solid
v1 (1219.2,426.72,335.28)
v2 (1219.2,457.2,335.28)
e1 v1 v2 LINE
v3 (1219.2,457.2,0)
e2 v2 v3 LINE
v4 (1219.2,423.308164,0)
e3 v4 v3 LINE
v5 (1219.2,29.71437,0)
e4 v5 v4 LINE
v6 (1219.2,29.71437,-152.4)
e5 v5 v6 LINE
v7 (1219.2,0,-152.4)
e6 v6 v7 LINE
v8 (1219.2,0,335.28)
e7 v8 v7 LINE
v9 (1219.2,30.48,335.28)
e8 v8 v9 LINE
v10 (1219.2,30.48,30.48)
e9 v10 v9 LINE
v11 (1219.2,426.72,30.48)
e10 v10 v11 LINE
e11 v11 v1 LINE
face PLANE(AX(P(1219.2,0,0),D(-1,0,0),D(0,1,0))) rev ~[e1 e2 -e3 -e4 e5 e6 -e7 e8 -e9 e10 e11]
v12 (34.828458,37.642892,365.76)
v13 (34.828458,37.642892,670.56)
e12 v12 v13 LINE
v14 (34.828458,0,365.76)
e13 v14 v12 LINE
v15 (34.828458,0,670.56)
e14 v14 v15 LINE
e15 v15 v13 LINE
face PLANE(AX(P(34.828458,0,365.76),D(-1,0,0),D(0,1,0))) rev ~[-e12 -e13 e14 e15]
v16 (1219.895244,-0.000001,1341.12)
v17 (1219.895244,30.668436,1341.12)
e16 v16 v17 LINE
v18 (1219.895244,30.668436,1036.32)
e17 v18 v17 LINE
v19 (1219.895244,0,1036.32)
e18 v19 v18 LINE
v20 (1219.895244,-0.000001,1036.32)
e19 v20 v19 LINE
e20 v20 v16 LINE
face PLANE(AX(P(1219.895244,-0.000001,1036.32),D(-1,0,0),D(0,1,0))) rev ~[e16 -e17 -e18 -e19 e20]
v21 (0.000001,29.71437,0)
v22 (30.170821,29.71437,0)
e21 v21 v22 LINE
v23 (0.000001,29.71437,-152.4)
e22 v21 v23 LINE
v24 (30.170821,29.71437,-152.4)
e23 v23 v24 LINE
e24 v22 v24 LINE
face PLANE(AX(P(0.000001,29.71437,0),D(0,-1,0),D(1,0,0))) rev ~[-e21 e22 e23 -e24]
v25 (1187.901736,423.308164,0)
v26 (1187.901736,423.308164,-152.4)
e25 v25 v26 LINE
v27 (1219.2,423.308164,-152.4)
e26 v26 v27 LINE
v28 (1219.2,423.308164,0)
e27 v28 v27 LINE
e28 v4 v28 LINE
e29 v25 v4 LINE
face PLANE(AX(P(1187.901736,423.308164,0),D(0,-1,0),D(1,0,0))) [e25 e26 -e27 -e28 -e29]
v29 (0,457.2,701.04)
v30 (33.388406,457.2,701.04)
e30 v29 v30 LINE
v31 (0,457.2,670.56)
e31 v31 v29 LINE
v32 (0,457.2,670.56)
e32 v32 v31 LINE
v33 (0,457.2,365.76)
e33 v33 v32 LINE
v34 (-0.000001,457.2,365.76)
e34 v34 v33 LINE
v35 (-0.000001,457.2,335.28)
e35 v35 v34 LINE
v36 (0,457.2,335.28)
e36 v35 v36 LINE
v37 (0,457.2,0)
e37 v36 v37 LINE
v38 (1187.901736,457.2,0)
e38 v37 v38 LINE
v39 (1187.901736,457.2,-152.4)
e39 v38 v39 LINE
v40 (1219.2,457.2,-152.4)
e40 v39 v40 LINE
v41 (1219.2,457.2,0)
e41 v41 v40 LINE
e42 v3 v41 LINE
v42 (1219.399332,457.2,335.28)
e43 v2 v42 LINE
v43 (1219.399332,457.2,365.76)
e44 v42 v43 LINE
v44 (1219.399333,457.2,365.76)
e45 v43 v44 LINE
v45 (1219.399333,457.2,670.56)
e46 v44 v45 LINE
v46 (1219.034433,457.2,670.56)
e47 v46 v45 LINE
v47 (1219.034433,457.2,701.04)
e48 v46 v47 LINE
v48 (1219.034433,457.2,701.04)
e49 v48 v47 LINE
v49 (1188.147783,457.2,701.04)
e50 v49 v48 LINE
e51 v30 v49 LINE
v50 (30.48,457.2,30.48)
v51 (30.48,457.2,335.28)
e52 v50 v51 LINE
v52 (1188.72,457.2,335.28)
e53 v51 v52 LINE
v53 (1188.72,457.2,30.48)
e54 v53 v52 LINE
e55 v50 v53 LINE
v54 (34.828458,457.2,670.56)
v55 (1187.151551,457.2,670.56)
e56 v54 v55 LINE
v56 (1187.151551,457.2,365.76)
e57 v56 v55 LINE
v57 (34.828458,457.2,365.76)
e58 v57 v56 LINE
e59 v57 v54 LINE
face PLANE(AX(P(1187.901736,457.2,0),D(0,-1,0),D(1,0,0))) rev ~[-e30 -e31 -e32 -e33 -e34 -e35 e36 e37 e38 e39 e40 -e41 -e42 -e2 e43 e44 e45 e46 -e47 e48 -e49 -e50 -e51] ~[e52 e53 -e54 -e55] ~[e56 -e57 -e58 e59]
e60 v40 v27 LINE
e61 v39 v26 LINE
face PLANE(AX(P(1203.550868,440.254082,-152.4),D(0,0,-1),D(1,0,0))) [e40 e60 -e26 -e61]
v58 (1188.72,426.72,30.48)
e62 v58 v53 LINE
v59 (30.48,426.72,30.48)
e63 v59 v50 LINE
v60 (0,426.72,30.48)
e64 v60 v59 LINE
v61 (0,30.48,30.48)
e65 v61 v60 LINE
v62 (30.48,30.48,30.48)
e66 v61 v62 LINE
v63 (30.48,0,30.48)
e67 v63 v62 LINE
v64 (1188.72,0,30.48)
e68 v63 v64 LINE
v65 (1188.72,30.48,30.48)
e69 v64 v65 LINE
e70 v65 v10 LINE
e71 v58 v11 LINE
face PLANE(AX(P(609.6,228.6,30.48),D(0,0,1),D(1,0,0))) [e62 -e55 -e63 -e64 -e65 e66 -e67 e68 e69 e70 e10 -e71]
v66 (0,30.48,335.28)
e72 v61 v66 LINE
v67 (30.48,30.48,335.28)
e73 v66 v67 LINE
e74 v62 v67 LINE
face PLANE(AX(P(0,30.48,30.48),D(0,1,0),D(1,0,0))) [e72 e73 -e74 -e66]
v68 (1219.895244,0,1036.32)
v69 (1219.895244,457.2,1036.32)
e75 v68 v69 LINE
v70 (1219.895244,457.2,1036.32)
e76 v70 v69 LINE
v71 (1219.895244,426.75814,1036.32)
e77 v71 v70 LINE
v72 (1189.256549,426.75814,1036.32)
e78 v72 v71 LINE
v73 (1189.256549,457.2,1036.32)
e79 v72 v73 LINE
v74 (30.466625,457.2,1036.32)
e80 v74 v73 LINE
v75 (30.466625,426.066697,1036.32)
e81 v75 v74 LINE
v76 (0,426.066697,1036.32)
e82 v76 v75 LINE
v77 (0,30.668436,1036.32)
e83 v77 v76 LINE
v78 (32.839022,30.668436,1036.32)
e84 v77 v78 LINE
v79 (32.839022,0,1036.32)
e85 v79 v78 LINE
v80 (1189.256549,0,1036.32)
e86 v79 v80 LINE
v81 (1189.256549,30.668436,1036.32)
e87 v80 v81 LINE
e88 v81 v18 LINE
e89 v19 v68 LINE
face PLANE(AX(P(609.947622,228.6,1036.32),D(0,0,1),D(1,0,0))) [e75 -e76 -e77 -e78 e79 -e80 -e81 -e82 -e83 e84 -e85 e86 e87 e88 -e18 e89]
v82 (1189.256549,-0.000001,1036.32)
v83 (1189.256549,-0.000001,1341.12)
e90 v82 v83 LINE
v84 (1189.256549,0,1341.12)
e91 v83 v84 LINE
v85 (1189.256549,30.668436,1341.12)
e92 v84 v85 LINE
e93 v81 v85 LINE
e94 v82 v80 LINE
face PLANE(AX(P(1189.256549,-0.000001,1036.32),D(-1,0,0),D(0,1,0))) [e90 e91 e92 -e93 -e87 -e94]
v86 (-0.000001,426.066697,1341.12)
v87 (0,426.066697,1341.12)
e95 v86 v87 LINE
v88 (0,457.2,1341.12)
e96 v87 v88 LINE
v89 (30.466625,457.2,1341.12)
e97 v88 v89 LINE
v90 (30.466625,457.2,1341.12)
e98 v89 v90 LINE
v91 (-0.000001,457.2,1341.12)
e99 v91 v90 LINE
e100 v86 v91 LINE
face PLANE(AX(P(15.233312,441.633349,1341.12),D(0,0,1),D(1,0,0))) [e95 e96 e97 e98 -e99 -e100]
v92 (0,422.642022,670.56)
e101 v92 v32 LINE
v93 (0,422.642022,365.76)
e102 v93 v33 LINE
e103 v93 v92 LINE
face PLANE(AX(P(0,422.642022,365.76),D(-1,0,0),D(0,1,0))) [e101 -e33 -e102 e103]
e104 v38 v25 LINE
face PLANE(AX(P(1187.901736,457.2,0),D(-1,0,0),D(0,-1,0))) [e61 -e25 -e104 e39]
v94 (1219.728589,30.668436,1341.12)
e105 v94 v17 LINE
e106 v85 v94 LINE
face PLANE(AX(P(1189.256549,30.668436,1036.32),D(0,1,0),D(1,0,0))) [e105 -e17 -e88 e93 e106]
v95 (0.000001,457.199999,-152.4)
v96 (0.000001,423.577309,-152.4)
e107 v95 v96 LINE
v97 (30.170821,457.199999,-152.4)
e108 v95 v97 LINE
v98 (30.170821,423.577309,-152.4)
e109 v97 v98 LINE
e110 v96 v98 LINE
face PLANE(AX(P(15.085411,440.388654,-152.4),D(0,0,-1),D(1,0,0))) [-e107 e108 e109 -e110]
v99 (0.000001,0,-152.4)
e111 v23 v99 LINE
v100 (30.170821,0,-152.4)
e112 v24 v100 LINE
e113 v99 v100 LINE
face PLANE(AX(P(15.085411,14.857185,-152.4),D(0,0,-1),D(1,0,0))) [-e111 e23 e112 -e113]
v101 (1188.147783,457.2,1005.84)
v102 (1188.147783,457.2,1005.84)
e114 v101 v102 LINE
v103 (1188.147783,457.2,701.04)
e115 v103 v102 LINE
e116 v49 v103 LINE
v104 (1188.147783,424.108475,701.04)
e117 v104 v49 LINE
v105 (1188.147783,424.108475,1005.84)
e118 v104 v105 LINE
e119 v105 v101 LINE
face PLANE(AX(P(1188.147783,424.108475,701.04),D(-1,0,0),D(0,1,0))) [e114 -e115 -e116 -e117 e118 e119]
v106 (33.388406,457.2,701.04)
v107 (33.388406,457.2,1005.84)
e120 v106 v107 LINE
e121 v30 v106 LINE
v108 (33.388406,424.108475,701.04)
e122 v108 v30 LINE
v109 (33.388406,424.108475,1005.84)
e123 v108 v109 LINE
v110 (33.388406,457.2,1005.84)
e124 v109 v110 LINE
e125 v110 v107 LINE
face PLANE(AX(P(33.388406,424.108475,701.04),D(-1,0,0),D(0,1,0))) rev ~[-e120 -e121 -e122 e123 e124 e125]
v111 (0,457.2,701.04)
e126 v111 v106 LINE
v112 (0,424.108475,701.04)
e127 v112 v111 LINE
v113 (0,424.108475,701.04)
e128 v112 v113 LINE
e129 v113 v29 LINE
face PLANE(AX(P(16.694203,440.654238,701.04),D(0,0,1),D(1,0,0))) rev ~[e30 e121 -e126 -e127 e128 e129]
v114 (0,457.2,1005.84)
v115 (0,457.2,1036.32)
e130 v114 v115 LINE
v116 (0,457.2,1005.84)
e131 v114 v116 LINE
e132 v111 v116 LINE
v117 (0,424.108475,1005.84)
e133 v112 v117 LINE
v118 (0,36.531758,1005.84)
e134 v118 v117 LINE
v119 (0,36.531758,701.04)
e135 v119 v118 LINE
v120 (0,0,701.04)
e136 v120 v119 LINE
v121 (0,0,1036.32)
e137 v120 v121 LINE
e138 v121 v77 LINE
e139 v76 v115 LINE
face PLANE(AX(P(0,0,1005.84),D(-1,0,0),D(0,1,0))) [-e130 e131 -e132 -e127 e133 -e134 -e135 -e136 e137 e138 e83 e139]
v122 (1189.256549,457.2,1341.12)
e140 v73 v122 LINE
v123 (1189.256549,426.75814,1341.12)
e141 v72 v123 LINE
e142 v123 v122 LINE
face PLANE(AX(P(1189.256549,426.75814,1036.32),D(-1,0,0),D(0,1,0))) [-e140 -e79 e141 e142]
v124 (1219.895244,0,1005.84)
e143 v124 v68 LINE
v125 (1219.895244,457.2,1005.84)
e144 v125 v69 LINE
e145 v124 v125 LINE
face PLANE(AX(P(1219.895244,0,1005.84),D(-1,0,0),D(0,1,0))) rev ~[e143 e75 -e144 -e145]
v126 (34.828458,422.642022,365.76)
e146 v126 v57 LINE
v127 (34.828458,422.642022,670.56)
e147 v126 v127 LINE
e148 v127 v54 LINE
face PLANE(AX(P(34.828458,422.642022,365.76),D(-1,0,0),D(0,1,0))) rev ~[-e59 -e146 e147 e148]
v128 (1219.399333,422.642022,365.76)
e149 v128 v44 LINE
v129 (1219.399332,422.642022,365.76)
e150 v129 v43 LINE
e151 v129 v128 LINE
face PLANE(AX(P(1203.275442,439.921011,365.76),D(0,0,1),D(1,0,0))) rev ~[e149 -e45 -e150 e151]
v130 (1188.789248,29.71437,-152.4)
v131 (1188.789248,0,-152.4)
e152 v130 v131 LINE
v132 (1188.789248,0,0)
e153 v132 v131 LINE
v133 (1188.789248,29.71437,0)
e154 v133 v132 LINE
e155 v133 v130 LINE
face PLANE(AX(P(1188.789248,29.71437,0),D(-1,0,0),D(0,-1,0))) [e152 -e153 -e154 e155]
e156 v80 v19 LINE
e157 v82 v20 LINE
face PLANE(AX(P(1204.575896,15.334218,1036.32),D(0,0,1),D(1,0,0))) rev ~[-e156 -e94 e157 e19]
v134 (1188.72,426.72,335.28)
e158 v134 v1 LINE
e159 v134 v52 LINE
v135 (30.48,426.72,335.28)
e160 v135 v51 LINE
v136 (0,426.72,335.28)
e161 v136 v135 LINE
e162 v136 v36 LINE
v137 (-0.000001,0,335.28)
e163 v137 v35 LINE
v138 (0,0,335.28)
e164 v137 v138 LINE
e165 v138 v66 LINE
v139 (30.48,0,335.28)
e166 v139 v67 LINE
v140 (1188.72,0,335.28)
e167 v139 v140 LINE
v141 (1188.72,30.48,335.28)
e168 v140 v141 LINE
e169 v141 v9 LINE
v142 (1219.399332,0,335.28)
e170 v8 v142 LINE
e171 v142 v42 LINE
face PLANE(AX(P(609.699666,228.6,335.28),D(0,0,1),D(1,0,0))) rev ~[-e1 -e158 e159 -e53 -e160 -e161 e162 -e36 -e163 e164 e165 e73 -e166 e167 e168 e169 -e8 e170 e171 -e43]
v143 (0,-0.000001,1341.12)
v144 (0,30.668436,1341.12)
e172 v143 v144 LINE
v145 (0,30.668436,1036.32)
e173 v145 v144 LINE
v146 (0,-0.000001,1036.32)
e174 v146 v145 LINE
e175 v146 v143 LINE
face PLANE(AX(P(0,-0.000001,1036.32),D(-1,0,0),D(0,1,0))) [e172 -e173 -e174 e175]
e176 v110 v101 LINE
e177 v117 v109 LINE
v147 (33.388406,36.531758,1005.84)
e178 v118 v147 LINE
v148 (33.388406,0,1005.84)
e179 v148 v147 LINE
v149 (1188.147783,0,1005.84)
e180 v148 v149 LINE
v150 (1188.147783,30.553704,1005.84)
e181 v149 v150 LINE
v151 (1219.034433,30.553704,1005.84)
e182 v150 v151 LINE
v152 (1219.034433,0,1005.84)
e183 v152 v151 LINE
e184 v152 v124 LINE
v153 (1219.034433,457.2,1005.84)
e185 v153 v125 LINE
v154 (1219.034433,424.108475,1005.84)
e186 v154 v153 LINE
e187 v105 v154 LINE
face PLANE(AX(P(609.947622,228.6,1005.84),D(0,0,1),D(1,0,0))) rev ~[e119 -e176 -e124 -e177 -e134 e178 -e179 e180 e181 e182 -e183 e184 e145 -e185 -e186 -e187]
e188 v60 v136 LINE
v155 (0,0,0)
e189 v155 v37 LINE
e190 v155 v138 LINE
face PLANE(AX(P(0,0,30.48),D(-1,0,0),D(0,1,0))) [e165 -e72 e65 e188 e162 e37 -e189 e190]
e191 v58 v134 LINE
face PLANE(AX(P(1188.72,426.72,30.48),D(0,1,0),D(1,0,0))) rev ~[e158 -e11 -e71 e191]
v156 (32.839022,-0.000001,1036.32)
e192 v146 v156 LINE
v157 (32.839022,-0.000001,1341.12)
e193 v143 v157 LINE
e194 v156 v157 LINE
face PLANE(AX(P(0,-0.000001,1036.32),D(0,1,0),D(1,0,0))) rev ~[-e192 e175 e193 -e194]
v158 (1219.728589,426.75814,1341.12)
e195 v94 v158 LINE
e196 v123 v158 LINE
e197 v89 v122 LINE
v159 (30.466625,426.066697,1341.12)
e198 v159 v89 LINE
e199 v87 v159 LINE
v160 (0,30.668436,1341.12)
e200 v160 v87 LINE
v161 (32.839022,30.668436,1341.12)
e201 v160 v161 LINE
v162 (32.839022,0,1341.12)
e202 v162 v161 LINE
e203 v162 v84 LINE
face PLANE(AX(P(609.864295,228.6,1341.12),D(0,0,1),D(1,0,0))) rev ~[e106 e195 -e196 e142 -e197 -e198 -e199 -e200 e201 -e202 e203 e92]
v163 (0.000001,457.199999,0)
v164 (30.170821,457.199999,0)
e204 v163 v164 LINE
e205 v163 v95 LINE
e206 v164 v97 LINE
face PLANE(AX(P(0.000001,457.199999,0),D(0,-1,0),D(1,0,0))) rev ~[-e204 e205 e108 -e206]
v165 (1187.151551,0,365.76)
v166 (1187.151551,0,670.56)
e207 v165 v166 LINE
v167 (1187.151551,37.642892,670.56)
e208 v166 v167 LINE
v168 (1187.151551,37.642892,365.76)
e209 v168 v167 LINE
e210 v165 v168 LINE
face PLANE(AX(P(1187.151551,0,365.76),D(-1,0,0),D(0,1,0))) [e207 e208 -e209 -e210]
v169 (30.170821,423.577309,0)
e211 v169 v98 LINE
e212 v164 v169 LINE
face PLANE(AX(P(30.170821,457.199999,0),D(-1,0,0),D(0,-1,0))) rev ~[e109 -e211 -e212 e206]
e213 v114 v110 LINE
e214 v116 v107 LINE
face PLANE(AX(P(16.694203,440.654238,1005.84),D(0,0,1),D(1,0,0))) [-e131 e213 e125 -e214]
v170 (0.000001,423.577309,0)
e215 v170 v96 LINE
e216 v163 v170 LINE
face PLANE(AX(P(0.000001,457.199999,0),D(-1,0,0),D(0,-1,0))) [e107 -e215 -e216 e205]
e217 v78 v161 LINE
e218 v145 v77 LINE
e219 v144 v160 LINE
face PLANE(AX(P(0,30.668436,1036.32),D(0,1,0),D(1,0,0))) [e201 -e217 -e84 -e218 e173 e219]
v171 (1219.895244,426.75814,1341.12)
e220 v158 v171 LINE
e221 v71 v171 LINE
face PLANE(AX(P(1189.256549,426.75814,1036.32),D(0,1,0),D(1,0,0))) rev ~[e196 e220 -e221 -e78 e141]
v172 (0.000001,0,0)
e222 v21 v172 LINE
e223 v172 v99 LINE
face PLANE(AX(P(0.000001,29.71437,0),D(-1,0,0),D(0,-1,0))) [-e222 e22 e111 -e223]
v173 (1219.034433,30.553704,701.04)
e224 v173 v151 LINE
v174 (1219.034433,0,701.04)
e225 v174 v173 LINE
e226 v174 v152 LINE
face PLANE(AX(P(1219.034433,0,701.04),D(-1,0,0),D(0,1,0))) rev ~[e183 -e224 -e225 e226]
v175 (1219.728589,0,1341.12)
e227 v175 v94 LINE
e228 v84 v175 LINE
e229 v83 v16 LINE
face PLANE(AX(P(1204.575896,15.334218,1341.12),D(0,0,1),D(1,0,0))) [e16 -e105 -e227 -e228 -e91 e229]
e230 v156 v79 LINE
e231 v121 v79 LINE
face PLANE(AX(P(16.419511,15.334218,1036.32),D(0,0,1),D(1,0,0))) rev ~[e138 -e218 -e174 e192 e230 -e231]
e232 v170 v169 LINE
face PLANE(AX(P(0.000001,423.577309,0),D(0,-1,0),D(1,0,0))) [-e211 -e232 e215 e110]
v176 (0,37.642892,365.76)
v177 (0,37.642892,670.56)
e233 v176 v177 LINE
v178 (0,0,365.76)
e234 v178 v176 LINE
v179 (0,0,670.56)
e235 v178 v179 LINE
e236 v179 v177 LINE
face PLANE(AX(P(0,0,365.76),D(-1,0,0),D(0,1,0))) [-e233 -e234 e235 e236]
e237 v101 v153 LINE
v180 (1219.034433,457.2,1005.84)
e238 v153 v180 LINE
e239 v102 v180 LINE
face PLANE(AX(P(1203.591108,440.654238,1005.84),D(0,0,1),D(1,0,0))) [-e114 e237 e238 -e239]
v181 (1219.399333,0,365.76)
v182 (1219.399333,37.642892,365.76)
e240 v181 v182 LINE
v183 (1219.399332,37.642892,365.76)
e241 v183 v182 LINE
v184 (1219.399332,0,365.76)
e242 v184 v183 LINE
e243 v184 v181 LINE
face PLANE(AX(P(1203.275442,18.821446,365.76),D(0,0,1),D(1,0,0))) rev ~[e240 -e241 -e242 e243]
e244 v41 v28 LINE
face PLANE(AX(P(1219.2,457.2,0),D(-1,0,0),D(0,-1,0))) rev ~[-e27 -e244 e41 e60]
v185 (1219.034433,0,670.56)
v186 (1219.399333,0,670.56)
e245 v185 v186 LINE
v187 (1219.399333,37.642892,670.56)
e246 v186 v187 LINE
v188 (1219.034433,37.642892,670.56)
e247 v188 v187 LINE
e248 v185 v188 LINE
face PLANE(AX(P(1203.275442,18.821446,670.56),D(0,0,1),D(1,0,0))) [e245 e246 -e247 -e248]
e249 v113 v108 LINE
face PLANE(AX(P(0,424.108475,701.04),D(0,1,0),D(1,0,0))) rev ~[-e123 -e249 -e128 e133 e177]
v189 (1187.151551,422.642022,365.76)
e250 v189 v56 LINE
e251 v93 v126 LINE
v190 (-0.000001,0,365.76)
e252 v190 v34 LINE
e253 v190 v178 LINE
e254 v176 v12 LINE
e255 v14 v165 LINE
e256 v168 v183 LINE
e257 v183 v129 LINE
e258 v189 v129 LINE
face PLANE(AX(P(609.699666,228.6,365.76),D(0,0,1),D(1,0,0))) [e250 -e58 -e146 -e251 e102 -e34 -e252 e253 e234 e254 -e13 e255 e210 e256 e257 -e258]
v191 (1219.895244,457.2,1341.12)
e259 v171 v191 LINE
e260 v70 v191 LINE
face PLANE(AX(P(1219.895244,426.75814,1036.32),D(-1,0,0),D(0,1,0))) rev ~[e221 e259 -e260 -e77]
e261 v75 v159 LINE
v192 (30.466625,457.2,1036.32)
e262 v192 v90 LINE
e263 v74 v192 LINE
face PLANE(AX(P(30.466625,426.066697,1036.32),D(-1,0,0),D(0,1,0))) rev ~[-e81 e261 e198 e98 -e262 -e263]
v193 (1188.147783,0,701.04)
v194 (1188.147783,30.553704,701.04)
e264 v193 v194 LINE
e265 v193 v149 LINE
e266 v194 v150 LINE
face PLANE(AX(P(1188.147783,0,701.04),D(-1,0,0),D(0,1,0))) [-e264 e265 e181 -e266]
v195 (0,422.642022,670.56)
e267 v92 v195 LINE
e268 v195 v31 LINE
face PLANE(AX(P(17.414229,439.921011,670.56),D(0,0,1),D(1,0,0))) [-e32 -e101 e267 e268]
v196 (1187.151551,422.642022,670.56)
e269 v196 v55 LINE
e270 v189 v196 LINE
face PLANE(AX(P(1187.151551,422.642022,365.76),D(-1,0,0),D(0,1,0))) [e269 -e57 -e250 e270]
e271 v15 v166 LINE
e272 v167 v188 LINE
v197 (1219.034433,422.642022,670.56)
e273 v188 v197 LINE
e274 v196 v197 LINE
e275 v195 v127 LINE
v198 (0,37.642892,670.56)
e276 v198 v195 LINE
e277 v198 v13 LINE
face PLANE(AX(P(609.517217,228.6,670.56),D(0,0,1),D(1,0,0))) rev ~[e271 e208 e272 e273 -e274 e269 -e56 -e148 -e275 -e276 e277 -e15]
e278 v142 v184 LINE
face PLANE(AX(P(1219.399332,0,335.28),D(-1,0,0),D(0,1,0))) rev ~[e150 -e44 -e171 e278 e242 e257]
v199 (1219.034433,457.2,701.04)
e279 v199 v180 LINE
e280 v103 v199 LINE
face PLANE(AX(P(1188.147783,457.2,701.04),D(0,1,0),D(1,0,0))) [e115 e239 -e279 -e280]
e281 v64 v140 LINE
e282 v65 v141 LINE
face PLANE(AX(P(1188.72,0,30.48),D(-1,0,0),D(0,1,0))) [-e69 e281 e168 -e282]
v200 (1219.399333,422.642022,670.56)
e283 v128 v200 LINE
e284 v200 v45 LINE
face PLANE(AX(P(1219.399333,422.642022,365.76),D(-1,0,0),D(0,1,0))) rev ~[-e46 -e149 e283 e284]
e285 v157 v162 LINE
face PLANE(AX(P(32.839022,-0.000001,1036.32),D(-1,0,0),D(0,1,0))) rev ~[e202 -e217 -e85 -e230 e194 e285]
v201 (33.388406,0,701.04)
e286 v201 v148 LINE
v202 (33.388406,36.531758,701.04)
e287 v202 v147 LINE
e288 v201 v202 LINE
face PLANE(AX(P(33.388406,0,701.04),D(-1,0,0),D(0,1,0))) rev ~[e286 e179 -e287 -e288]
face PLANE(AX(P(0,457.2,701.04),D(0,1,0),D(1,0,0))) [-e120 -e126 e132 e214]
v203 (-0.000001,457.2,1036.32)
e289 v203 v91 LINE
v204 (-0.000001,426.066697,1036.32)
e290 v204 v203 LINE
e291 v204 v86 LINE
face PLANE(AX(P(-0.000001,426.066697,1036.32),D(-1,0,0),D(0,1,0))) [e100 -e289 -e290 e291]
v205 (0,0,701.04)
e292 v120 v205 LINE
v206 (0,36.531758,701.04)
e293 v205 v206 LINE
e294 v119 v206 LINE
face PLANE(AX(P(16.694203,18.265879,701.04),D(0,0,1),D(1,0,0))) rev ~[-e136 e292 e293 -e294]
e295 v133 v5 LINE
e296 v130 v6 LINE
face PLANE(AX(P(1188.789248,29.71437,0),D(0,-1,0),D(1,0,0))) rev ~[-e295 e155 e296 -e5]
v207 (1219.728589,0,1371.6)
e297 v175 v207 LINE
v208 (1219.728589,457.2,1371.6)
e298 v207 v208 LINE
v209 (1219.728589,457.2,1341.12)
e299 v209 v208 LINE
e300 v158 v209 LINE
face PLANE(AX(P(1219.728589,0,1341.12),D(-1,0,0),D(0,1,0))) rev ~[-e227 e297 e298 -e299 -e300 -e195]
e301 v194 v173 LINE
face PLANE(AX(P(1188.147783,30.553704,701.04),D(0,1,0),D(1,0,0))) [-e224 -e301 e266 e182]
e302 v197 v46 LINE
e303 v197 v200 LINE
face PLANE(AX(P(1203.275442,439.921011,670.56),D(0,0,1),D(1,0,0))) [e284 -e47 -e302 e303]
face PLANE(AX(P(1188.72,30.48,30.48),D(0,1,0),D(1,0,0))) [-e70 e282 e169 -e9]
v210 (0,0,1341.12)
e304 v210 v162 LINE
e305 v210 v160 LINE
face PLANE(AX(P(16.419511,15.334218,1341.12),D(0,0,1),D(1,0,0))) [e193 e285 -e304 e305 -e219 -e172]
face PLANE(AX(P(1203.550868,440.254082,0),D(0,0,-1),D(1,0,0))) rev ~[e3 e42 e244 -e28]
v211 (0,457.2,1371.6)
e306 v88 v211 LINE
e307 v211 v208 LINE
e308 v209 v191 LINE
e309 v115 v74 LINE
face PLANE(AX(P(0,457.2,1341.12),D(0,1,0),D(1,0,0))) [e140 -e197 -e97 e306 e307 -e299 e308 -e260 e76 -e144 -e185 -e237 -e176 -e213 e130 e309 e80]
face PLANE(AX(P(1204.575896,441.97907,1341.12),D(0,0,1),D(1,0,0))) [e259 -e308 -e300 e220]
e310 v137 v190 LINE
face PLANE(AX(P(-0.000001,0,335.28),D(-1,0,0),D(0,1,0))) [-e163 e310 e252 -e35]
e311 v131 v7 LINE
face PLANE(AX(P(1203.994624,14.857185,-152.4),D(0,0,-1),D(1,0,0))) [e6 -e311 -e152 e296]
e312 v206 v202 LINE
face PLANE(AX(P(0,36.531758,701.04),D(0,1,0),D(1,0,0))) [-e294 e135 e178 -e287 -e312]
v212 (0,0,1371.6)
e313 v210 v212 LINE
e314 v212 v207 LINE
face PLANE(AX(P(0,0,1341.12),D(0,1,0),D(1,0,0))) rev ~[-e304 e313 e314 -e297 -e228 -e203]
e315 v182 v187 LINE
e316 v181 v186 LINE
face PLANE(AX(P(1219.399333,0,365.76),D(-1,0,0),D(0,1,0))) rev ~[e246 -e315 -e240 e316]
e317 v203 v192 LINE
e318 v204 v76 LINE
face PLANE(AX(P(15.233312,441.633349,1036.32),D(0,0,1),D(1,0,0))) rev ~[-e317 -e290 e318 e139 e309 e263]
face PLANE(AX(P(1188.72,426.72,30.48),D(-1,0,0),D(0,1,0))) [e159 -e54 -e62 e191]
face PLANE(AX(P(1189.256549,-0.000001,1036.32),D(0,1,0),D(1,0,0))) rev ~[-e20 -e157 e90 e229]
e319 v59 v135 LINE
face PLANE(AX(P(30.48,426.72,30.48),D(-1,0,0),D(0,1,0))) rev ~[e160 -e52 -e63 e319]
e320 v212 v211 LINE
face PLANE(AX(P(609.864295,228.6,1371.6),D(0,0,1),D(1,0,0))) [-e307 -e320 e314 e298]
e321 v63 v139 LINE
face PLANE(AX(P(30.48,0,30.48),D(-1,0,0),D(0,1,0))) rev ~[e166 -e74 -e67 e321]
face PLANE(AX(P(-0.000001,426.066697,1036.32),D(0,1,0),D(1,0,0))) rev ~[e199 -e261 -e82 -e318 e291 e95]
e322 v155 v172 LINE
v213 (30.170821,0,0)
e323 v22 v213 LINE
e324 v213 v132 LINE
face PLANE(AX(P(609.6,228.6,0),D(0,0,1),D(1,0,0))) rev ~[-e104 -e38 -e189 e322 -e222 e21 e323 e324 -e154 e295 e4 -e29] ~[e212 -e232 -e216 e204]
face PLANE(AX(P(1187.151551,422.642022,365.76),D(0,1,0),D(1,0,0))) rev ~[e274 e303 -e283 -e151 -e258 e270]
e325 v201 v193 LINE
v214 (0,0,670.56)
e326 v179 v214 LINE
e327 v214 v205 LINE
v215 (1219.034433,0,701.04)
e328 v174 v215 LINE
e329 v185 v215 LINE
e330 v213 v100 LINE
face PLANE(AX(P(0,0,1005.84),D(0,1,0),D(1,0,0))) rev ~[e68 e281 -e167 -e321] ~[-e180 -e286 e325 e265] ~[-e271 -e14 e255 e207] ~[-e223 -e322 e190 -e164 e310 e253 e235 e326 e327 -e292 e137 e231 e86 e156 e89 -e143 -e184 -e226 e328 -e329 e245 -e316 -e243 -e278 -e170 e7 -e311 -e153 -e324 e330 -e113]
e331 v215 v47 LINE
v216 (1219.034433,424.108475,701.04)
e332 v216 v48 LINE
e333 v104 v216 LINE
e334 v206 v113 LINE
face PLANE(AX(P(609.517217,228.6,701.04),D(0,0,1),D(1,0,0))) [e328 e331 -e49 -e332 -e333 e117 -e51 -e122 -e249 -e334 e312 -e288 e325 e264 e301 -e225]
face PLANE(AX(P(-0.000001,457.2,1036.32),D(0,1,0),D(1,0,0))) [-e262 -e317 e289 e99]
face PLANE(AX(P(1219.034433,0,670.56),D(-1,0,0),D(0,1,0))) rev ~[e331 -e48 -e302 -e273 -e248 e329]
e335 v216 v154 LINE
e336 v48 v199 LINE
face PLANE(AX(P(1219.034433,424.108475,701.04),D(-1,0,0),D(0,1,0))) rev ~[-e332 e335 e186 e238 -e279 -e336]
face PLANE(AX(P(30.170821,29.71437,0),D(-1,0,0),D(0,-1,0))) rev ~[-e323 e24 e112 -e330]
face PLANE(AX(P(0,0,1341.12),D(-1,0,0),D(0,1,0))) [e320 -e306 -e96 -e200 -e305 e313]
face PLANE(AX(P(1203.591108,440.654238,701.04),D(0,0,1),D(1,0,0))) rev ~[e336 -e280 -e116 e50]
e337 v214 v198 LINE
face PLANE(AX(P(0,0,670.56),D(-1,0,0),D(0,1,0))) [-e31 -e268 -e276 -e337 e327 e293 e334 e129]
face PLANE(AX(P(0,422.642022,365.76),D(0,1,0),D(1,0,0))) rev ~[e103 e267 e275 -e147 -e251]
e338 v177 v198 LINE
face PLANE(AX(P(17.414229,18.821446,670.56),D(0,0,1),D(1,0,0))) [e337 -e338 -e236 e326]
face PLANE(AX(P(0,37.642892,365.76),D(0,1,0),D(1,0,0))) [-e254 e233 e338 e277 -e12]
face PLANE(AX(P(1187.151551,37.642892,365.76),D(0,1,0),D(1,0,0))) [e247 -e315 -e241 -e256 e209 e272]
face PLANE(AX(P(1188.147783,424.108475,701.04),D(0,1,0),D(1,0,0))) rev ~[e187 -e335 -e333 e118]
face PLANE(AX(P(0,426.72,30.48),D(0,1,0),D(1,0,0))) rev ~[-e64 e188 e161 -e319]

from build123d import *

# Parameters (mm, degrees)
F0_W      = 1219.2
F0_H      = 457.2
F1_DEPTH  = 30.48
F2_W      = 30.48
F2_H      = 30.48
F3_DEPTH  = 304.8
F4_W      = 1219.399333
F4_H      = 457.2
F5_DEPTH  = 30.48
F6_W      = 34.828458
F6_H      = 34.557978
F6_H_2    = 37.642892
F6_W_2    = 32.247782
F7_DEPTH  = 304.8
F8_W      = 1219.034433
F8_H      = 457.2
F9_DEPTH  = 30.48
F10_W     = 33.388406
F10_H     = 33.091525
F10_H_2   = 36.531758
F10_W_2   = 30.88665
F10_H_3   = 30.553704
F11_DEPTH = 304.8
F12_W     = 1219.895244
F12_H     = 457.2
F13_DEPTH = 30.48
F14_W     = 30.466625
F14_H     = 31.133303
F14_W_2   = 32.839023
F14_H_2   = 30.668437
F14_W_3   = 30.638695
F14_H_3   = 30.44186
F15_DEPTH = 304.8
F16_W     = 1219.728589
F16_H     = 457.2
F17_DEPTH = 30.48
F18_W     = 30.170821
F18_H     = 29.71437
F18_H_2   = 33.622691
F18_W_2   = 31.298265
F18_H_3   = 33.891836
F18_W_3   = 30.410752
F19_DEPTH = 152.4


with BuildPart() as f1:
    # F0 (on Top) → F1 (new body)
    with BuildSketch(Plane.XY):
        with Locations((609.6, 228.6)):
            Rectangle(F0_W, F0_H)
    extrude(amount=F1_DEPTH)

    # F2 (on face) → F3 (join)
    with BuildSketch(Plane.XY.offset(30.48)):
        with Locations((15.24, 15.24)):
            Rectangle(F2_W, F2_H)
        with Locations((15.24, 441.96)):
            Rectangle(F2_W, F2_H)
        with Locations((1203.96, 441.96)):
            Rectangle(F2_W, F2_H)
        with Locations((1203.96, 15.24)):
            Rectangle(F2_W, F2_H)
    extrude(amount=F3_DEPTH)

    # F4 (on face) → F5 (join)
    with BuildSketch(Plane.XY.offset(335.28)):
        with Locations((609.699666, 228.6)):
            Rectangle(F4_W, F4_H)
    extrude(amount=F5_DEPTH)

    # F6 (on face) → F7 (join)
    with BuildSketch(Plane.XY.offset(365.76)):
        with Locations((17.414229, 439.921011)):
            Rectangle(F6_W, F6_H)
        with Locations((17.414229, 18.821446)):
            Rectangle(F6_W, F6_H_2)
        with Locations((1203.275442, 18.821446)):
            Rectangle(F6_W_2, F6_H_2)
        with Locations((1203.275442, 439.921011)):
            Rectangle(F6_W_2, F6_H)
    extrude(amount=F7_DEPTH)

    # F8 (on face) → F9 (join)
    with BuildSketch(Plane.XY.offset(670.56)):
        with Locations((609.517217, 228.6)):
            Rectangle(F8_W, F8_H)
    extrude(amount=F9_DEPTH)

    # F10 (on face) → F11 (join)
    with BuildSketch(Plane.XY.offset(701.04)):
        with Locations((16.694203, 440.654238)):
            Rectangle(F10_W, F10_H)
        with Locations((16.694203, 18.265879)):
            Rectangle(F10_W, F10_H_2)
        with Locations((1203.591108, 15.276852)):
            Rectangle(F10_W_2, F10_H_3)
        with Locations((1203.591108, 440.654238)):
            Rectangle(F10_W_2, F10_H)
    extrude(amount=F11_DEPTH)

    # F12 (on face) → F13 (join)
    with BuildSketch(Plane.XY.offset(1005.84)):
        with Locations((609.947622, 228.6)):
            Rectangle(F12_W, F12_H)
    extrude(amount=F13_DEPTH)

    # F14 (on face) → F15 (join)
    with BuildSketch(Plane.XY.offset(1036.32)):
        with Locations((15.233312, 441.633349)):
            Rectangle(F14_W, F14_H)
        with Locations((16.419511, 15.334218)):
            Rectangle(F14_W_2, F14_H_2)
        with Locations((1204.575896, 15.334218)):
            Rectangle(F14_W_3, F14_H_2)
        with Locations((1204.575896, 441.97907)):
            Rectangle(F14_W_3, F14_H_3)
    extrude(amount=F15_DEPTH)

    # F16 (on face) → F17 (join)
    with BuildSketch(Plane.XY.offset(1341.12)):
        with Locations((609.864295, 228.6)):
            Rectangle(F16_W, F16_H)
    extrude(amount=F17_DEPTH)

    # F18 (on face) → F19 (join)
    with BuildSketch(Plane(origin=(0, 0, 0), x_dir=(1, 0, 0), z_dir=(0, 0, -1))):
        with Locations((15.085411, -14.857185)):
            Rectangle(F18_W, F18_H)
        with Locations((15.085411, -440.388654)):
            Rectangle(F18_W, F18_H_2)
        with Locations((1203.550868, -440.254082)):
            Rectangle(F18_W_2, F18_H_3)
        with Locations((1203.994624, -14.857185)):
            Rectangle(F18_W_3, F18_H)
    extrude(amount=F19_DEPTH)


solid = f1.part
